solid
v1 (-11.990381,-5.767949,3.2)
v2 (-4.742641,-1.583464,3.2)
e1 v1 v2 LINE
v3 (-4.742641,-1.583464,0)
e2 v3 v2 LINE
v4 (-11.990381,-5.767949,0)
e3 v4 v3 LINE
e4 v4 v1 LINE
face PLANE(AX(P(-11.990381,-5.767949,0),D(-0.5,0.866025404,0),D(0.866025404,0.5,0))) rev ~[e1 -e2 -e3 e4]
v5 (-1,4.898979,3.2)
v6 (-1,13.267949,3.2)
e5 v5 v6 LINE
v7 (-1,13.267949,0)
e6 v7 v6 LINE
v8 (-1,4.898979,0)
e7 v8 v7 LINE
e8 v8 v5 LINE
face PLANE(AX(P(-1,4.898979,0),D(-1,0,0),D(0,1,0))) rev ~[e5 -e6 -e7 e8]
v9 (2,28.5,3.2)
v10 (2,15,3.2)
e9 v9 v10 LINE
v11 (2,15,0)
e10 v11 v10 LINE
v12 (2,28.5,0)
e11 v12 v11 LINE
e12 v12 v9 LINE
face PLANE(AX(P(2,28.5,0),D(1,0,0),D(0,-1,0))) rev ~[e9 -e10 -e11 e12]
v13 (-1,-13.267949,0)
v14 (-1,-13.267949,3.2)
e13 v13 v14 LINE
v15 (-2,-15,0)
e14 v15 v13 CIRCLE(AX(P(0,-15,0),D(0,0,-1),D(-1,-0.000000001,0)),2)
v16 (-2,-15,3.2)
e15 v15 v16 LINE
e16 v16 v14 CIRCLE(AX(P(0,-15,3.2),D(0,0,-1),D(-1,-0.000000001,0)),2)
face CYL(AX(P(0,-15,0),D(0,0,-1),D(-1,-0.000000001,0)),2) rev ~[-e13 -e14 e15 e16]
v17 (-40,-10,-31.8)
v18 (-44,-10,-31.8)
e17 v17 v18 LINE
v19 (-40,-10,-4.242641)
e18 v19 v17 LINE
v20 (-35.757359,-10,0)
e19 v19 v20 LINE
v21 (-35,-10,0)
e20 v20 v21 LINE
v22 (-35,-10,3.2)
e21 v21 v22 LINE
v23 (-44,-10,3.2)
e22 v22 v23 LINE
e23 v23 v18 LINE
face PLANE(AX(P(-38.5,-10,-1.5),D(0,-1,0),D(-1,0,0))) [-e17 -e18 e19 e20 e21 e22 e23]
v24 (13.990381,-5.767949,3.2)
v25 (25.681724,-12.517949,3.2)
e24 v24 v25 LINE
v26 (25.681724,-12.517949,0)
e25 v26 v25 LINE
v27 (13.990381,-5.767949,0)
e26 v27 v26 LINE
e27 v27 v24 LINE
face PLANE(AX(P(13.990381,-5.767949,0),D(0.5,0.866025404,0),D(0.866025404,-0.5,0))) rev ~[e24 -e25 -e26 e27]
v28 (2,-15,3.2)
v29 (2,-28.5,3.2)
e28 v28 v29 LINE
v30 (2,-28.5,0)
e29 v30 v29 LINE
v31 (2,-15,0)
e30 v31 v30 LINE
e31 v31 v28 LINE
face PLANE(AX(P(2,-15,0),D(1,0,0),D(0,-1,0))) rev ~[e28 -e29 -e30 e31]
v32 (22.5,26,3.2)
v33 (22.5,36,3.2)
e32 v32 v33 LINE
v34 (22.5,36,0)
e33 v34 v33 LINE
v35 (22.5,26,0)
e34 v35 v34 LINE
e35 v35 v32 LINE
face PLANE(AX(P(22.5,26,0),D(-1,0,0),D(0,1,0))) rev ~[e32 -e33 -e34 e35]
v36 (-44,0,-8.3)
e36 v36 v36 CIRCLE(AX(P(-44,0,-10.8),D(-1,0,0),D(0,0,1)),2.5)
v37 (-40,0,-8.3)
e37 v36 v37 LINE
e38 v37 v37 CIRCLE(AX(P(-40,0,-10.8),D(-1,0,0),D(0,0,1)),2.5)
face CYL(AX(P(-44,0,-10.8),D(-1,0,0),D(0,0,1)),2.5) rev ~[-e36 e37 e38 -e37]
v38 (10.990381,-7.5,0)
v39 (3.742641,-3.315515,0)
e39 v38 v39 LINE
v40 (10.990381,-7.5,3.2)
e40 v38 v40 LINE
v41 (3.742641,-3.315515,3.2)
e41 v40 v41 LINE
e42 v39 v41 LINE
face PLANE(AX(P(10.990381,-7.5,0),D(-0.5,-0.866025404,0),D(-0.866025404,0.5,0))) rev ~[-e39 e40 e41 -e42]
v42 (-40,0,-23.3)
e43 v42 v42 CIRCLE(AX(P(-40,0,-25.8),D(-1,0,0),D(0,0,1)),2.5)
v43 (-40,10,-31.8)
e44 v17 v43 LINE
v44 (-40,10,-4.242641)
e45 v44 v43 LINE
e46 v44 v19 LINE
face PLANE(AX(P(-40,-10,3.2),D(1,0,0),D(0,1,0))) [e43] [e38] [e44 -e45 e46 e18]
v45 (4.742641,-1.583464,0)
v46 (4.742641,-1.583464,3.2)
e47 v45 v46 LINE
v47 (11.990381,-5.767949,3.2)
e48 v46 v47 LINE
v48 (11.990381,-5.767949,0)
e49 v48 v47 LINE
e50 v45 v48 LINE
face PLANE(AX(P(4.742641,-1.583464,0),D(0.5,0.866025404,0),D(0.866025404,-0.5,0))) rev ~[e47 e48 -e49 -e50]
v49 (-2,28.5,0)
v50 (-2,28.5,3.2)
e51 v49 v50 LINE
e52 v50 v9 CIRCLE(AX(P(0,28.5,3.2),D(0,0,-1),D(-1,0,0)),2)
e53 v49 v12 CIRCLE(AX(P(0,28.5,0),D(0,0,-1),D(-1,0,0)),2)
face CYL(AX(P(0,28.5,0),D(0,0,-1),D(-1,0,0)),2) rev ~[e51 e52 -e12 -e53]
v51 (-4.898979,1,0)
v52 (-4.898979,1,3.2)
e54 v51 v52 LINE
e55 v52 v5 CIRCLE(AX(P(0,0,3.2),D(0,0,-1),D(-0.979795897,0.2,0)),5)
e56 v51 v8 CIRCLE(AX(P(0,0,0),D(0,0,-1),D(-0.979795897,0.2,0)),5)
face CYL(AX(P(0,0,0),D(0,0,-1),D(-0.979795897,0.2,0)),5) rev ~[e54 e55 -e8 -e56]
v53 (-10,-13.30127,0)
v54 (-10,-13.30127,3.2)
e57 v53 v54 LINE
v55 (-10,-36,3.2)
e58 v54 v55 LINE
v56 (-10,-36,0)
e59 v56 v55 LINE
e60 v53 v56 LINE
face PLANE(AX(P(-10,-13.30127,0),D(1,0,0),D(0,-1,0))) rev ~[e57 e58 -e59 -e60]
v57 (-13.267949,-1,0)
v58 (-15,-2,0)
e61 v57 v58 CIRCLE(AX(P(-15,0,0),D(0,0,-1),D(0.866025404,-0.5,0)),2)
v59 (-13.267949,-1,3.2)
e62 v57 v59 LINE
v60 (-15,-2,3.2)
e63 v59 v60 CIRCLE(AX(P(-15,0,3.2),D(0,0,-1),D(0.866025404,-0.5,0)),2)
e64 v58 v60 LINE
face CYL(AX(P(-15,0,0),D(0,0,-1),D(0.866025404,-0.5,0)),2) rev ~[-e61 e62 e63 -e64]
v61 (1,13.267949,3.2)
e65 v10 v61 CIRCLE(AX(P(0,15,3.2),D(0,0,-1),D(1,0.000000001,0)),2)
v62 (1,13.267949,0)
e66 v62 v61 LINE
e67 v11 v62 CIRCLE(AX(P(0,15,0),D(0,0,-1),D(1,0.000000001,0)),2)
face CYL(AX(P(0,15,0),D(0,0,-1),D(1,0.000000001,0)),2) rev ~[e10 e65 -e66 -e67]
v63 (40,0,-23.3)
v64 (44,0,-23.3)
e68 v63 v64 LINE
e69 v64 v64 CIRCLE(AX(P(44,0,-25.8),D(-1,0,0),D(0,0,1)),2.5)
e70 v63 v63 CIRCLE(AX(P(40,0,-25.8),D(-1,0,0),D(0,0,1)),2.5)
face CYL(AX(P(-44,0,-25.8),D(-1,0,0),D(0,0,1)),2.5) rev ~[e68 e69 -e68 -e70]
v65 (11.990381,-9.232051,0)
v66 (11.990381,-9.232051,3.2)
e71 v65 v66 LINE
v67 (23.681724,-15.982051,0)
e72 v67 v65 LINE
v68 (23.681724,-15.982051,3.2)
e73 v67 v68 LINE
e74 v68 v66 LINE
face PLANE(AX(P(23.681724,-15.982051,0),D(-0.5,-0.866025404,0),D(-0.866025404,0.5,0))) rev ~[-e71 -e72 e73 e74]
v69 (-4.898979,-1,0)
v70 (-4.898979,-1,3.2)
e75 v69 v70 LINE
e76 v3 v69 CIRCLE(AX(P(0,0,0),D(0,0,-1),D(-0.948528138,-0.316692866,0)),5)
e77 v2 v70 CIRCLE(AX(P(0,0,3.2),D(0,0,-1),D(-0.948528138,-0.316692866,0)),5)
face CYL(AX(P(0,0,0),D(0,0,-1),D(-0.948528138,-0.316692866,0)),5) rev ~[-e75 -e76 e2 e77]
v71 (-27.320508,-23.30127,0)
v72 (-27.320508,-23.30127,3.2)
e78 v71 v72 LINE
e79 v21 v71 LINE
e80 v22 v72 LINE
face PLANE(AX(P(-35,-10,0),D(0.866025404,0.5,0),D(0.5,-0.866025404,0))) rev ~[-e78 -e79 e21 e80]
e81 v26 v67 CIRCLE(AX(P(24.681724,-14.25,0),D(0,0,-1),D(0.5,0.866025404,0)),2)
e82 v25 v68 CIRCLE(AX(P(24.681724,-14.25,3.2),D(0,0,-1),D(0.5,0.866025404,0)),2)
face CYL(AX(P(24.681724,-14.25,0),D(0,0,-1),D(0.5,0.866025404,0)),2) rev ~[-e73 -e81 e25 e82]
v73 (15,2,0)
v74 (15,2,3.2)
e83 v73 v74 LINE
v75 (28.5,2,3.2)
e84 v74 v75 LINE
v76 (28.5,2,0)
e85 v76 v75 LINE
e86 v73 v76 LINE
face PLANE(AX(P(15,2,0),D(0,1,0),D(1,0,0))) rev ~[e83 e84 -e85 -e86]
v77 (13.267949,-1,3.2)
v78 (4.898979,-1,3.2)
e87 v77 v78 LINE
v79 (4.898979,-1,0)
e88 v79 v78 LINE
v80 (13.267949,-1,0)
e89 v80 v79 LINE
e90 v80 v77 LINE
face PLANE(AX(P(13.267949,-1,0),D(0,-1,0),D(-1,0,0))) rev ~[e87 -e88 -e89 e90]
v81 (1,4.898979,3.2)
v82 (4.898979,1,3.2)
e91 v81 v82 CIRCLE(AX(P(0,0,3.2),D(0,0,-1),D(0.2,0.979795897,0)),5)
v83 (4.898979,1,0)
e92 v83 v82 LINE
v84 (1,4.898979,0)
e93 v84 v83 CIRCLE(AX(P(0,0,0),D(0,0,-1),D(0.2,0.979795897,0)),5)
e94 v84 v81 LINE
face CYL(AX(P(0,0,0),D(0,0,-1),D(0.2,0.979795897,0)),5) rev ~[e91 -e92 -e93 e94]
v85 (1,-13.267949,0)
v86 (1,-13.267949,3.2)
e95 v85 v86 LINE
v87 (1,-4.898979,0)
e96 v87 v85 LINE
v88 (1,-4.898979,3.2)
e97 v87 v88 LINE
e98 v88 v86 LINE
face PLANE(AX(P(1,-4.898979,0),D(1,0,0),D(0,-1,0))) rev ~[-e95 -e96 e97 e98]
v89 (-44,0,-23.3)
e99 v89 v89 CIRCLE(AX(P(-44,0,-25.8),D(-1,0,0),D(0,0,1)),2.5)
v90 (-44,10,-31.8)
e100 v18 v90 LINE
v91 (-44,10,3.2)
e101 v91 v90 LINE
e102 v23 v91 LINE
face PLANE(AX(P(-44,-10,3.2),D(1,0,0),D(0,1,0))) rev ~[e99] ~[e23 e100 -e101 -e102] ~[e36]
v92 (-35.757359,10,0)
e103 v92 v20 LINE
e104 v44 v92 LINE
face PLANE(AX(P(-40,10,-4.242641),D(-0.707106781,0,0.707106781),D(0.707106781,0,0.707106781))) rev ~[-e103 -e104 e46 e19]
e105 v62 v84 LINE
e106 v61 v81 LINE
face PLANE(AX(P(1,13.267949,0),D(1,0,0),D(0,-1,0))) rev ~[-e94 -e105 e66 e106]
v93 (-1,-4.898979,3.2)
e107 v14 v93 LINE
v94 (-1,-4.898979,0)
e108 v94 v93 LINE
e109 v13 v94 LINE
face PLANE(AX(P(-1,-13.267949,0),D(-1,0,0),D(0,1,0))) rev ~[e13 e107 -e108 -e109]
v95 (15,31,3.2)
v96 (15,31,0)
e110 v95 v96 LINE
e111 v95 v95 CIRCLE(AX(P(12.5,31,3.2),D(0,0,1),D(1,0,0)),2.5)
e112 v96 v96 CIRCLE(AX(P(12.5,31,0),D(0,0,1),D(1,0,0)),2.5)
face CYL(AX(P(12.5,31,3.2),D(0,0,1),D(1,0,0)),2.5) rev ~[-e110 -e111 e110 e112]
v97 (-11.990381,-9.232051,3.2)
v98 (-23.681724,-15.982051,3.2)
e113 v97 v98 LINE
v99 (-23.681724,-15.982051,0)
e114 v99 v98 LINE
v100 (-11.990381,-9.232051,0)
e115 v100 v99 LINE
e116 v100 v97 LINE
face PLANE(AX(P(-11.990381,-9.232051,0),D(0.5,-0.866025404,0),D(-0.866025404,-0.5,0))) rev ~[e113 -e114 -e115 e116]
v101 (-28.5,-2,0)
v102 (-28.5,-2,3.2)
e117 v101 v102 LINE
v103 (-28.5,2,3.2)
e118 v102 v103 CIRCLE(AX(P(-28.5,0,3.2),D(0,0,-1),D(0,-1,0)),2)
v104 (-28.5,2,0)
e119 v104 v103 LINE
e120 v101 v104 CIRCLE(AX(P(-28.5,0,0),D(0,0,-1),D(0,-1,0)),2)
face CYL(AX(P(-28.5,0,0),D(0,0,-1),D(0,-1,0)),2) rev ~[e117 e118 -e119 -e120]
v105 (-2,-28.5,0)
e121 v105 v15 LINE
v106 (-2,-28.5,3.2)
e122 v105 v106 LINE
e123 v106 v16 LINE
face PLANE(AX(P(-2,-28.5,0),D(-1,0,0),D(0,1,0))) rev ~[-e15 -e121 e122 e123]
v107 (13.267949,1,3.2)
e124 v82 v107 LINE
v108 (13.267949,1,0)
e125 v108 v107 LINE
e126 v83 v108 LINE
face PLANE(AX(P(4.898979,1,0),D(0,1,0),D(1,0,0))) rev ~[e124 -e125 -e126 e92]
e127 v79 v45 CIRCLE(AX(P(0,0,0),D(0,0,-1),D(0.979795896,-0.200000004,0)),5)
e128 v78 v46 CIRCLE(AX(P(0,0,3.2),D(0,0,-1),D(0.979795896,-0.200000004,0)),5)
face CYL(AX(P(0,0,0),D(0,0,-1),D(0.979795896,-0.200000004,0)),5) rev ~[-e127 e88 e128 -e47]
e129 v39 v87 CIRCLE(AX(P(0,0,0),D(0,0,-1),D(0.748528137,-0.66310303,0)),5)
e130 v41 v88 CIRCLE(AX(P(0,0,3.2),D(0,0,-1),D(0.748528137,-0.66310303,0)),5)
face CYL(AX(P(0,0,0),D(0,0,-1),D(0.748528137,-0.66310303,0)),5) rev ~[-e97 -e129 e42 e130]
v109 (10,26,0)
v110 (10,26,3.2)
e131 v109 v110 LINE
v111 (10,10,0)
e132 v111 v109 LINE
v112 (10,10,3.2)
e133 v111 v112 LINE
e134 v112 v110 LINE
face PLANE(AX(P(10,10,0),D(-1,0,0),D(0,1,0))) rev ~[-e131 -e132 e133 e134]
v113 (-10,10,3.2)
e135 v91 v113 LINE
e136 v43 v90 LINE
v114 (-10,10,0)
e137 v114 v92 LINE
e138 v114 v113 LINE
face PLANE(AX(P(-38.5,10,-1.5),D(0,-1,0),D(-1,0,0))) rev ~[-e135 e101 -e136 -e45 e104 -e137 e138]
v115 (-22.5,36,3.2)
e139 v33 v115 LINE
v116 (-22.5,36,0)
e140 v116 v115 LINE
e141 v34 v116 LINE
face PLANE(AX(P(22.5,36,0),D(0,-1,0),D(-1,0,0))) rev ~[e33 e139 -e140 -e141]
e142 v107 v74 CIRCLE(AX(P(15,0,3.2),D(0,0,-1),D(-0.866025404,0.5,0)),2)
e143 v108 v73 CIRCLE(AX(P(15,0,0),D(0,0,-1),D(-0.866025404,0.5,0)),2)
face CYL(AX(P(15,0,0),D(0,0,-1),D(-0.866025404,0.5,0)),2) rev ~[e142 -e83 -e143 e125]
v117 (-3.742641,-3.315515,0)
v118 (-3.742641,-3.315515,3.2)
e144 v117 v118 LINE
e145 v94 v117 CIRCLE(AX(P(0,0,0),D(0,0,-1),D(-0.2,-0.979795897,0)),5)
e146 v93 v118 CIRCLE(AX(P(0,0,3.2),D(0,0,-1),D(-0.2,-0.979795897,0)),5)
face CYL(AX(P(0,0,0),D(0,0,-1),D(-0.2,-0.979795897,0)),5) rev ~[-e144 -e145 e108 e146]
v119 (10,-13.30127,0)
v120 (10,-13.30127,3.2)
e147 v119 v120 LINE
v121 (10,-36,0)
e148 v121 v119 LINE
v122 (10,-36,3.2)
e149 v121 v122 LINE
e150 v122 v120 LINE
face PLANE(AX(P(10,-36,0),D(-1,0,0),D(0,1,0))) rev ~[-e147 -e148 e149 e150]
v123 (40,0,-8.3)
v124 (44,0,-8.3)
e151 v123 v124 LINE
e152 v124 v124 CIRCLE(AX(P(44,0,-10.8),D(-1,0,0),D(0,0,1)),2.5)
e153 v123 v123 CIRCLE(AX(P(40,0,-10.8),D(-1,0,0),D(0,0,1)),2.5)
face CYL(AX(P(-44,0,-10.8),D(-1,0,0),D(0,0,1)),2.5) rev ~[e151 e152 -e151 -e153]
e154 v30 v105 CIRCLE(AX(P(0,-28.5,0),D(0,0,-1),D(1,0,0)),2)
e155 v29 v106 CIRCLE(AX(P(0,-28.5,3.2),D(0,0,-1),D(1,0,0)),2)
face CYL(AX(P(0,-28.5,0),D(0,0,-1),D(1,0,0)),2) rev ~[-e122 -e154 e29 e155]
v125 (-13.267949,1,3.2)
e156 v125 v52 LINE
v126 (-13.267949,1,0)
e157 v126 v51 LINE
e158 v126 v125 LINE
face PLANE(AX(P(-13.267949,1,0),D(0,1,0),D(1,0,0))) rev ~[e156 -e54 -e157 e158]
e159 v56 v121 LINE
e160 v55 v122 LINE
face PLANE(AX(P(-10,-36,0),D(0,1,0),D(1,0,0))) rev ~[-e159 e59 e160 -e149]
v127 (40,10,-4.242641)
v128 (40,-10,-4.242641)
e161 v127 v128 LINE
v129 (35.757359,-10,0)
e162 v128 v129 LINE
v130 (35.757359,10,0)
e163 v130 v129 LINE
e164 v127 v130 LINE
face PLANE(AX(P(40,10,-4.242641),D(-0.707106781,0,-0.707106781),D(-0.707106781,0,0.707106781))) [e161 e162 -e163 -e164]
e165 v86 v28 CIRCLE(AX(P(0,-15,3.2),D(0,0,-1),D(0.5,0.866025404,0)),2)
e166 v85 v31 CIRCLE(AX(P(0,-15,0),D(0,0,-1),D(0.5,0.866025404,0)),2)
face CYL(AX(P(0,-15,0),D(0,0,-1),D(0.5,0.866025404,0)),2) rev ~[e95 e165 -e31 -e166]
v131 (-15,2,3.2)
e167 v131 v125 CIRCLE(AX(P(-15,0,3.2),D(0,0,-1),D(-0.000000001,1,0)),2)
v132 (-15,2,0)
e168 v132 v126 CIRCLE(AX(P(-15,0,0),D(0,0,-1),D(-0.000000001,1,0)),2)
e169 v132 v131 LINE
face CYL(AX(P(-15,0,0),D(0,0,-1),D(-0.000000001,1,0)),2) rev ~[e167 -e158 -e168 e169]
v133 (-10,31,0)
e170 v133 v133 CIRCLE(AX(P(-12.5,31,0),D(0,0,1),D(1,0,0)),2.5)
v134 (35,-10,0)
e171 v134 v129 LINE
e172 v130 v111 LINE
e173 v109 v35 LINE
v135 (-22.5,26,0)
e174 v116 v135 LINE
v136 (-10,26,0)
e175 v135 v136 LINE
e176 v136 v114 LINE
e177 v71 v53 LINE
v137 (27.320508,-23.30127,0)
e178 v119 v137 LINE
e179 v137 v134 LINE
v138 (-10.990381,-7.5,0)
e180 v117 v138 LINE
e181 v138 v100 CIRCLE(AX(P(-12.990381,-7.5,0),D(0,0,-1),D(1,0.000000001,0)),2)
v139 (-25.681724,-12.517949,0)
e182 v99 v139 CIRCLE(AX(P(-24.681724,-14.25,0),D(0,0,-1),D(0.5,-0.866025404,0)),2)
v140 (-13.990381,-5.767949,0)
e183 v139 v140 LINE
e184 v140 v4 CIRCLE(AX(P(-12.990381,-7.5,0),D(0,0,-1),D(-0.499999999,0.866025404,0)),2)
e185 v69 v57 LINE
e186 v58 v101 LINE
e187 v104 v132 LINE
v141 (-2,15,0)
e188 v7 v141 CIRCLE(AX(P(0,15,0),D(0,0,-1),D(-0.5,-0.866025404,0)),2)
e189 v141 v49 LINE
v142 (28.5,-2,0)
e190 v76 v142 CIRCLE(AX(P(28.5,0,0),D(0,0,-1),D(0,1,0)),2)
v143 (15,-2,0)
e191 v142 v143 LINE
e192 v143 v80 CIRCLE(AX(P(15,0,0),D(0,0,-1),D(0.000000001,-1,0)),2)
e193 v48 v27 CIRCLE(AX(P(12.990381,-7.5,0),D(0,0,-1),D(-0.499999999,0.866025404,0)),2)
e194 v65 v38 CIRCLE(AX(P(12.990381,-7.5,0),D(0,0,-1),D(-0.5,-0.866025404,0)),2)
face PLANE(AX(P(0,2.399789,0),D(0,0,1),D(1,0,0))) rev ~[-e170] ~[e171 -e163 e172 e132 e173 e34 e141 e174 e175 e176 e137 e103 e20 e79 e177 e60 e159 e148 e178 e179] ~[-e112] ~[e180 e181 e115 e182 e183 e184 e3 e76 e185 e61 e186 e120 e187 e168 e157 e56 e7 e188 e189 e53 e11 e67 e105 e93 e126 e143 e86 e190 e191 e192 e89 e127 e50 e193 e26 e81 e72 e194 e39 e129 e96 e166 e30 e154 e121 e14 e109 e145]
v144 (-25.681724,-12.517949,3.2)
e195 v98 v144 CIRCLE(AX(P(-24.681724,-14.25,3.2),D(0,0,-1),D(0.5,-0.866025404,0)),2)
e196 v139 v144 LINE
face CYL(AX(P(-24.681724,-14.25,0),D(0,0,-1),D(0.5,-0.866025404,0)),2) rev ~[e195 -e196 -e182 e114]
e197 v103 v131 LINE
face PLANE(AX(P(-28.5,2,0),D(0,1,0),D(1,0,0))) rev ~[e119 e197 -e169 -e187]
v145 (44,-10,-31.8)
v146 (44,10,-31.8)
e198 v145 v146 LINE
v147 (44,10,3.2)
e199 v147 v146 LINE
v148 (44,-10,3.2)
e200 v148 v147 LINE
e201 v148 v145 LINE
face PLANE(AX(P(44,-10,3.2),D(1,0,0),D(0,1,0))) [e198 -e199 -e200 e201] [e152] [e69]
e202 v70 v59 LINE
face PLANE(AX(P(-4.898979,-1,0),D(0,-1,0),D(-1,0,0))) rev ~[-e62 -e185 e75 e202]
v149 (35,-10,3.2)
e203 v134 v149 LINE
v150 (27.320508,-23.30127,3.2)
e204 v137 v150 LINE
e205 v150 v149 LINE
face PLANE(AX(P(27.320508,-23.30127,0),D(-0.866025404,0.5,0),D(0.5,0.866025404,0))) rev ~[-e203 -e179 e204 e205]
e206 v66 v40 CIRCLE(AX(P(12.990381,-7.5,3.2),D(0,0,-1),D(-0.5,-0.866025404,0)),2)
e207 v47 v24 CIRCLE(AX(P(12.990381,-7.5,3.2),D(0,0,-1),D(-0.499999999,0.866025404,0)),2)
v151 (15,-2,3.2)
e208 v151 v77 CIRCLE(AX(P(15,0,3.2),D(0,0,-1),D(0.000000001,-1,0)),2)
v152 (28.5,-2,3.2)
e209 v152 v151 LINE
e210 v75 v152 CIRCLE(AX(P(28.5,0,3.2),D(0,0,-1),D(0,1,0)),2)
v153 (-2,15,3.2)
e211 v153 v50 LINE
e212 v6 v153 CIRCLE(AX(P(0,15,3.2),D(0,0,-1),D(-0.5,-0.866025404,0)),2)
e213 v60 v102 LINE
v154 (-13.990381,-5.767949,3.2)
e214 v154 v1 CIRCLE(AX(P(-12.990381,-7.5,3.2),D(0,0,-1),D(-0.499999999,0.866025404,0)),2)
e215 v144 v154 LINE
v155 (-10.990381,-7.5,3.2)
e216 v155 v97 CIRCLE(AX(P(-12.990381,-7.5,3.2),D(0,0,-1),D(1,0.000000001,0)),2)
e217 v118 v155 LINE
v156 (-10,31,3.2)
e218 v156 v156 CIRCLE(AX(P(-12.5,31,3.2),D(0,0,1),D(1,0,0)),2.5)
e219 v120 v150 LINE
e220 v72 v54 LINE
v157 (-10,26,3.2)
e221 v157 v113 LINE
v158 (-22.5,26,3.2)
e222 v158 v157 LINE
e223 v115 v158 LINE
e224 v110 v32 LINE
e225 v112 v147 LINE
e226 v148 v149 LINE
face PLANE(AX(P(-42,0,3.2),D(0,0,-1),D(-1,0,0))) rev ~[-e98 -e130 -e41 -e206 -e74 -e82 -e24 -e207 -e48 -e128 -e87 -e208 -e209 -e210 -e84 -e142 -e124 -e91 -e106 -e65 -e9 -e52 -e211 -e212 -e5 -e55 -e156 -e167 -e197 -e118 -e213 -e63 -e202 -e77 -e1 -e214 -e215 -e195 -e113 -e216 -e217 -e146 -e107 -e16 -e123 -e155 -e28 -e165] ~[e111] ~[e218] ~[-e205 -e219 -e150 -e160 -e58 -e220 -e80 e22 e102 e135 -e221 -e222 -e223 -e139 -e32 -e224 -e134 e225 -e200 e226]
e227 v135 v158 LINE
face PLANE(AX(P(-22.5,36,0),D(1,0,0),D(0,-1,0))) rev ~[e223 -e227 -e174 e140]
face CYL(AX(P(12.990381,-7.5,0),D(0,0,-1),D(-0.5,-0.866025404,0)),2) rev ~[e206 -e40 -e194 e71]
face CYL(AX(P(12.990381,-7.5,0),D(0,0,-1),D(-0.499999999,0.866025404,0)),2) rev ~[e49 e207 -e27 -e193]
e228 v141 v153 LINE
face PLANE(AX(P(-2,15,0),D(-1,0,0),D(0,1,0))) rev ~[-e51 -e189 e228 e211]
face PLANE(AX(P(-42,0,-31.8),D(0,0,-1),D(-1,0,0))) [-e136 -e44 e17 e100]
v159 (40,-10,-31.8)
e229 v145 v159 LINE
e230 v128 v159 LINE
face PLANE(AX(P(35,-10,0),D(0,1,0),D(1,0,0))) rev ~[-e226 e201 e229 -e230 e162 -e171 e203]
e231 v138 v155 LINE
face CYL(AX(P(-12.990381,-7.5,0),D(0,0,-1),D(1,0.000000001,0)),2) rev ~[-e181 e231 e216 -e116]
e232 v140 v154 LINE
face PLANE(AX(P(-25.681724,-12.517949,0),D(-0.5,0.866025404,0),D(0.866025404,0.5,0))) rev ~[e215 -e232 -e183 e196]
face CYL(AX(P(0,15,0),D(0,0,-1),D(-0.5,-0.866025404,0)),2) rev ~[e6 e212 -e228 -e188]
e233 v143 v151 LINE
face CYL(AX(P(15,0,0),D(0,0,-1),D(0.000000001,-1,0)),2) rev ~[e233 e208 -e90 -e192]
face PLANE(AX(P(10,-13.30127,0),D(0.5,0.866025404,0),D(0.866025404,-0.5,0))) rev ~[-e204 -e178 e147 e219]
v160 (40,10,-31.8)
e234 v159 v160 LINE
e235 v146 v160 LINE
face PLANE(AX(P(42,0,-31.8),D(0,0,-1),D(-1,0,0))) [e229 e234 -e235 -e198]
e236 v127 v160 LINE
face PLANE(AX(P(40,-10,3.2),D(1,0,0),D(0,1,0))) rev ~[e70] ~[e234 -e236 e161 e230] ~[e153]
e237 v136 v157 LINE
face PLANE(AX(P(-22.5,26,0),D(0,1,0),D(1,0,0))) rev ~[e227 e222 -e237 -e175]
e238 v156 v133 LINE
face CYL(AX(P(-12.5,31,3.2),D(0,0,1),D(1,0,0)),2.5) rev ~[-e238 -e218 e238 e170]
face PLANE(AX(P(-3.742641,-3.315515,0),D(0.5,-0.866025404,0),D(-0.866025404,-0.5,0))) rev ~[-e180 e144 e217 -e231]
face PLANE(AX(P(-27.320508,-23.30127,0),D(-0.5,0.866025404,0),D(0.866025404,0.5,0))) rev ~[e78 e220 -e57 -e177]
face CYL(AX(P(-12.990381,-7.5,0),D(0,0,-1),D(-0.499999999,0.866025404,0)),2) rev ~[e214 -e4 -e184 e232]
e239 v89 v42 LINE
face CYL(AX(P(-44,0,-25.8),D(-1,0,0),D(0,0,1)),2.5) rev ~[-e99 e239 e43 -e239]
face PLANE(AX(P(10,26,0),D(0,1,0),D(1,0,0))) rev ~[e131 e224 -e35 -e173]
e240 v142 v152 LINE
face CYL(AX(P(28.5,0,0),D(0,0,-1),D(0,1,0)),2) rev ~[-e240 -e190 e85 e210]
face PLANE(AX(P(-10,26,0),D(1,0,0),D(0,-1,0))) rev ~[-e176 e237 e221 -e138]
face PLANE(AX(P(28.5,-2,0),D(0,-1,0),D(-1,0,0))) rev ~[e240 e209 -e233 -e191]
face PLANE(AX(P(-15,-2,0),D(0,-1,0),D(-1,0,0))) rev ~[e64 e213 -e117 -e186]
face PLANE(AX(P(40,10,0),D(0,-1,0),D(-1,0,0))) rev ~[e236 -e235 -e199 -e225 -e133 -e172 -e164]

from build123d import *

# Parameters (mm, degrees)
BOSS_EXTRUDE1_DEPTH = 3.2
SKETCH2_W           = 4
SKETCH2_H           = 20
BOSS_EXTRUDE2_DEPTH = 35
BOSS_EXTRUDE3_DEPTH = 20
CUT_EXTRUDE1_REACH  = 102.256
SKETCH4_R           = 2.5
SKETCH5_R           = 2.5
CUT_EXTRUDE2_DEPTH  = 3.2


with BuildPart() as part:
    # Sketch1 → Boss-Extrude1 (new body)
    with BuildSketch(Plane.XY):
        Polygon((22.5, 36), (-22.5, 36), (-22.5, 26), (-10, 26), (-10, 10), (-40, 10), (-40, -10), (-35, -10), (-27.320508076, -23.301270189), (-10, -13.301270189), (-10, -36), (10, -36), (10, -13.301270189), (27.320508076, -23.301270189), (35, -10), (40, -10), (40, 10), (10, 10), (10, 26), (22.5, 26), align=None)
        with BuildLine():
            Line((2, 28.5), (2, 15))
            ThreePointArc((2, 15), (1.732050808, 14), (1, 13.267949192))
            Line((1, 13.267949192), (1, 4.898979486))
            ThreePointArc((1, 4.898979486), (3.535533906, 3.535533906), (4.898979486, 1))
            Line((4.898979486, 1), (13.267949192, 1))
            ThreePointArc((13.267949192, 1), (14, 1.732050808), (15, 2))
            Line((15, 2), (28.5, 2))
            ThreePointArc((28.5, 2), (30.5, 0), (28.5, -2))
            Line((28.5, -2), (15, -2))
            ThreePointArc((15, -2), (14, -1.732050808), (13.267949192, -1))
            Line((13.267949192, -1), (4.898979486, -1))
            ThreePointArc((4.898979486, -1), (4.829629131, -1.294095226), (4.742640687, -1.583464339))
            Line((4.742640687, -1.583464339), (11.990381057, -5.767949192))
            ThreePointArc((11.990381057, -5.767949192), (12.990381057, -5.5), (13.990381057, -5.767949192))
            Line((13.990381057, -5.767949192), (25.681724008, -12.517949192))
            ThreePointArc((25.681724008, -12.517949192), (26.413774815, -15.25), (23.681724008, -15.982050808))
            Line((23.681724008, -15.982050808), (11.990381057, -9.232050808))
            ThreePointArc((11.990381057, -9.232050808), (11.258330249, -8.5), (10.990381057, -7.5))
            Line((10.990381057, -7.5), (3.742640687, -3.315515147))
            ThreePointArc((3.742640687, -3.315515147), (2.5, -4.330127019), (1, -4.898979486))
            Line((1, -4.898979486), (1, -13.267949192))
            ThreePointArc((1, -13.267949192), (1.732050808, -14), (2, -15))
            Line((2, -15), (2, -28.5))
            ThreePointArc((2, -28.5), (0, -30.5), (-2, -28.5))
            Line((-2, -28.5), (-2, -15))
            ThreePointArc((-2, -15), (-1.732050808, -14), (-1, -13.267949192))
            Line((-1, -13.267949192), (-1, -4.898979486))
            ThreePointArc((-1, -4.898979486), (-2.5, -4.330127019), (-3.742640687, -3.315515147))
            Line((-3.742640687, -3.315515147), (-10.990381057, -7.5))
            ThreePointArc((-10.990381057, -7.5), (-11.258330249, -8.5), (-11.990381057, -9.232050808))
            Line((-11.990381057, -9.232050808), (-23.681724008, -15.982050808))
            ThreePointArc((-23.681724008, -15.982050808), (-26.413774815, -15.25), (-25.681724008, -12.517949192))
            Line((-25.681724008, -12.517949192), (-13.990381057, -5.767949192))
            ThreePointArc((-13.990381057, -5.767949192), (-12.990381057, -5.5), (-11.990381057, -5.767949192))
            Line((-11.990381057, -5.767949192), (-4.742640687, -1.583464339))
            ThreePointArc((-4.742640687, -1.583464339), (-4.829629131, -1.294095226), (-4.898979486, -1))
            Line((-4.898979486, -1), (-13.267949192, -1))
            ThreePointArc((-13.267949192, -1), (-14, -1.732050808), (-15, -2))
            Line((-15, -2), (-28.5, -2))
            ThreePointArc((-28.5, -2), (-30.5, 0), (-28.5, 2))
            Line((-28.5, 2), (-15, 2))
            ThreePointArc((-15, 2), (-14, 1.732050808), (-13.267949192, 1))
            Line((-13.267949192, 1), (-4.898979486, 1))
            ThreePointArc((-4.898979486, 1), (-3.535533906, 3.535533906), (-1, 4.898979486))
            Line((-1, 4.898979486), (-1, 13.267949192))
            ThreePointArc((-1, 13.267949192), (-1.732050808, 14), (-2, 15))
            Line((-2, 15), (-2, 28.5))
            ThreePointArc((-2, 28.5), (0, 30.5), (2, 28.5))
        make_face(mode=Mode.SUBTRACT)
    extrude(amount=BOSS_EXTRUDE1_DEPTH)

    # Sketch2 → Boss-Extrude2 (add)
    with BuildSketch(Plane(origin=(0, 0, 3.2), x_dir=(-1, 0, 0), z_dir=(0, 0, -1))):
        with Locations((42, 0)):
            Rectangle(SKETCH2_W, SKETCH2_H)
        with Locations((-42, 0)):
            Rectangle(SKETCH2_W, SKETCH2_H)
    extrude(amount=BOSS_EXTRUDE2_DEPTH)

    # Sketch3 → Boss-Extrude3 (add)
    with BuildSketch(Plane(origin=(0, 10, 0), x_dir=(1, 0, 0), z_dir=(0, 1, 0))):
        Polygon((-40, 4.242640687), (-35.757359313, 0), (-40, 0), align=None)
        Polygon((35.757359313, 0), (40, 0), (40, 4.242640687), align=None)
    extrude(amount=-BOSS_EXTRUDE3_DEPTH)

    # Cut-Extrude1: up to this face of the body (flat: up to its plane)
    cut_extrude1_end = Plane(part.part.faces().sort_by_distance((44, 0, -14.3))[0])
    # Sketch4 → Cut-Extrude1 (cut, up to the picked face)
    with BuildSketch(Plane.ZY.offset(44), mode=Mode.PRIVATE) as cut_extrude1_sk1:
        with Locations((-25.8, 0)):
            Circle(SKETCH4_R)
    cut_extrude1_tool1 = split(extrude(cut_extrude1_sk1.sketch, amount=-CUT_EXTRUDE1_REACH, mode=Mode.PRIVATE), bisect_by=cut_extrude1_end, keep=Keep.BOTH, mode=Mode.PRIVATE)
    # Sketch4 → Cut-Extrude1 (cut, up to the picked face)
    with BuildSketch(Plane.ZY.offset(44), mode=Mode.PRIVATE) as cut_extrude1_sk2:
        with Locations((-10.8, 0)):
            Circle(SKETCH4_R)
    cut_extrude1_tool2 = split(extrude(cut_extrude1_sk2.sketch, amount=-CUT_EXTRUDE1_REACH, mode=Mode.PRIVATE), bisect_by=cut_extrude1_end, keep=Keep.BOTH, mode=Mode.PRIVATE)
    add(cut_extrude1_tool1.solids().sort_by(Axis((-44, 0, -25.8), (1, 0, 0)))[0], mode=Mode.SUBTRACT)
    add(cut_extrude1_tool2.solids().sort_by(Axis((-44, 0, -10.8), (1, 0, 0)))[0], mode=Mode.SUBTRACT)

    # Sketch5 → Cut-Extrude2 (cut)
    with BuildSketch(Plane.XY.offset(3.2)):
        with Locations((-12.5, 31)):
            Circle(SKETCH5_R)
        with Locations((12.5, 31)):
            Circle(SKETCH5_R)
    extrude(amount=-CUT_EXTRUDE2_DEPTH, mode=Mode.SUBTRACT)


solid = part.part
